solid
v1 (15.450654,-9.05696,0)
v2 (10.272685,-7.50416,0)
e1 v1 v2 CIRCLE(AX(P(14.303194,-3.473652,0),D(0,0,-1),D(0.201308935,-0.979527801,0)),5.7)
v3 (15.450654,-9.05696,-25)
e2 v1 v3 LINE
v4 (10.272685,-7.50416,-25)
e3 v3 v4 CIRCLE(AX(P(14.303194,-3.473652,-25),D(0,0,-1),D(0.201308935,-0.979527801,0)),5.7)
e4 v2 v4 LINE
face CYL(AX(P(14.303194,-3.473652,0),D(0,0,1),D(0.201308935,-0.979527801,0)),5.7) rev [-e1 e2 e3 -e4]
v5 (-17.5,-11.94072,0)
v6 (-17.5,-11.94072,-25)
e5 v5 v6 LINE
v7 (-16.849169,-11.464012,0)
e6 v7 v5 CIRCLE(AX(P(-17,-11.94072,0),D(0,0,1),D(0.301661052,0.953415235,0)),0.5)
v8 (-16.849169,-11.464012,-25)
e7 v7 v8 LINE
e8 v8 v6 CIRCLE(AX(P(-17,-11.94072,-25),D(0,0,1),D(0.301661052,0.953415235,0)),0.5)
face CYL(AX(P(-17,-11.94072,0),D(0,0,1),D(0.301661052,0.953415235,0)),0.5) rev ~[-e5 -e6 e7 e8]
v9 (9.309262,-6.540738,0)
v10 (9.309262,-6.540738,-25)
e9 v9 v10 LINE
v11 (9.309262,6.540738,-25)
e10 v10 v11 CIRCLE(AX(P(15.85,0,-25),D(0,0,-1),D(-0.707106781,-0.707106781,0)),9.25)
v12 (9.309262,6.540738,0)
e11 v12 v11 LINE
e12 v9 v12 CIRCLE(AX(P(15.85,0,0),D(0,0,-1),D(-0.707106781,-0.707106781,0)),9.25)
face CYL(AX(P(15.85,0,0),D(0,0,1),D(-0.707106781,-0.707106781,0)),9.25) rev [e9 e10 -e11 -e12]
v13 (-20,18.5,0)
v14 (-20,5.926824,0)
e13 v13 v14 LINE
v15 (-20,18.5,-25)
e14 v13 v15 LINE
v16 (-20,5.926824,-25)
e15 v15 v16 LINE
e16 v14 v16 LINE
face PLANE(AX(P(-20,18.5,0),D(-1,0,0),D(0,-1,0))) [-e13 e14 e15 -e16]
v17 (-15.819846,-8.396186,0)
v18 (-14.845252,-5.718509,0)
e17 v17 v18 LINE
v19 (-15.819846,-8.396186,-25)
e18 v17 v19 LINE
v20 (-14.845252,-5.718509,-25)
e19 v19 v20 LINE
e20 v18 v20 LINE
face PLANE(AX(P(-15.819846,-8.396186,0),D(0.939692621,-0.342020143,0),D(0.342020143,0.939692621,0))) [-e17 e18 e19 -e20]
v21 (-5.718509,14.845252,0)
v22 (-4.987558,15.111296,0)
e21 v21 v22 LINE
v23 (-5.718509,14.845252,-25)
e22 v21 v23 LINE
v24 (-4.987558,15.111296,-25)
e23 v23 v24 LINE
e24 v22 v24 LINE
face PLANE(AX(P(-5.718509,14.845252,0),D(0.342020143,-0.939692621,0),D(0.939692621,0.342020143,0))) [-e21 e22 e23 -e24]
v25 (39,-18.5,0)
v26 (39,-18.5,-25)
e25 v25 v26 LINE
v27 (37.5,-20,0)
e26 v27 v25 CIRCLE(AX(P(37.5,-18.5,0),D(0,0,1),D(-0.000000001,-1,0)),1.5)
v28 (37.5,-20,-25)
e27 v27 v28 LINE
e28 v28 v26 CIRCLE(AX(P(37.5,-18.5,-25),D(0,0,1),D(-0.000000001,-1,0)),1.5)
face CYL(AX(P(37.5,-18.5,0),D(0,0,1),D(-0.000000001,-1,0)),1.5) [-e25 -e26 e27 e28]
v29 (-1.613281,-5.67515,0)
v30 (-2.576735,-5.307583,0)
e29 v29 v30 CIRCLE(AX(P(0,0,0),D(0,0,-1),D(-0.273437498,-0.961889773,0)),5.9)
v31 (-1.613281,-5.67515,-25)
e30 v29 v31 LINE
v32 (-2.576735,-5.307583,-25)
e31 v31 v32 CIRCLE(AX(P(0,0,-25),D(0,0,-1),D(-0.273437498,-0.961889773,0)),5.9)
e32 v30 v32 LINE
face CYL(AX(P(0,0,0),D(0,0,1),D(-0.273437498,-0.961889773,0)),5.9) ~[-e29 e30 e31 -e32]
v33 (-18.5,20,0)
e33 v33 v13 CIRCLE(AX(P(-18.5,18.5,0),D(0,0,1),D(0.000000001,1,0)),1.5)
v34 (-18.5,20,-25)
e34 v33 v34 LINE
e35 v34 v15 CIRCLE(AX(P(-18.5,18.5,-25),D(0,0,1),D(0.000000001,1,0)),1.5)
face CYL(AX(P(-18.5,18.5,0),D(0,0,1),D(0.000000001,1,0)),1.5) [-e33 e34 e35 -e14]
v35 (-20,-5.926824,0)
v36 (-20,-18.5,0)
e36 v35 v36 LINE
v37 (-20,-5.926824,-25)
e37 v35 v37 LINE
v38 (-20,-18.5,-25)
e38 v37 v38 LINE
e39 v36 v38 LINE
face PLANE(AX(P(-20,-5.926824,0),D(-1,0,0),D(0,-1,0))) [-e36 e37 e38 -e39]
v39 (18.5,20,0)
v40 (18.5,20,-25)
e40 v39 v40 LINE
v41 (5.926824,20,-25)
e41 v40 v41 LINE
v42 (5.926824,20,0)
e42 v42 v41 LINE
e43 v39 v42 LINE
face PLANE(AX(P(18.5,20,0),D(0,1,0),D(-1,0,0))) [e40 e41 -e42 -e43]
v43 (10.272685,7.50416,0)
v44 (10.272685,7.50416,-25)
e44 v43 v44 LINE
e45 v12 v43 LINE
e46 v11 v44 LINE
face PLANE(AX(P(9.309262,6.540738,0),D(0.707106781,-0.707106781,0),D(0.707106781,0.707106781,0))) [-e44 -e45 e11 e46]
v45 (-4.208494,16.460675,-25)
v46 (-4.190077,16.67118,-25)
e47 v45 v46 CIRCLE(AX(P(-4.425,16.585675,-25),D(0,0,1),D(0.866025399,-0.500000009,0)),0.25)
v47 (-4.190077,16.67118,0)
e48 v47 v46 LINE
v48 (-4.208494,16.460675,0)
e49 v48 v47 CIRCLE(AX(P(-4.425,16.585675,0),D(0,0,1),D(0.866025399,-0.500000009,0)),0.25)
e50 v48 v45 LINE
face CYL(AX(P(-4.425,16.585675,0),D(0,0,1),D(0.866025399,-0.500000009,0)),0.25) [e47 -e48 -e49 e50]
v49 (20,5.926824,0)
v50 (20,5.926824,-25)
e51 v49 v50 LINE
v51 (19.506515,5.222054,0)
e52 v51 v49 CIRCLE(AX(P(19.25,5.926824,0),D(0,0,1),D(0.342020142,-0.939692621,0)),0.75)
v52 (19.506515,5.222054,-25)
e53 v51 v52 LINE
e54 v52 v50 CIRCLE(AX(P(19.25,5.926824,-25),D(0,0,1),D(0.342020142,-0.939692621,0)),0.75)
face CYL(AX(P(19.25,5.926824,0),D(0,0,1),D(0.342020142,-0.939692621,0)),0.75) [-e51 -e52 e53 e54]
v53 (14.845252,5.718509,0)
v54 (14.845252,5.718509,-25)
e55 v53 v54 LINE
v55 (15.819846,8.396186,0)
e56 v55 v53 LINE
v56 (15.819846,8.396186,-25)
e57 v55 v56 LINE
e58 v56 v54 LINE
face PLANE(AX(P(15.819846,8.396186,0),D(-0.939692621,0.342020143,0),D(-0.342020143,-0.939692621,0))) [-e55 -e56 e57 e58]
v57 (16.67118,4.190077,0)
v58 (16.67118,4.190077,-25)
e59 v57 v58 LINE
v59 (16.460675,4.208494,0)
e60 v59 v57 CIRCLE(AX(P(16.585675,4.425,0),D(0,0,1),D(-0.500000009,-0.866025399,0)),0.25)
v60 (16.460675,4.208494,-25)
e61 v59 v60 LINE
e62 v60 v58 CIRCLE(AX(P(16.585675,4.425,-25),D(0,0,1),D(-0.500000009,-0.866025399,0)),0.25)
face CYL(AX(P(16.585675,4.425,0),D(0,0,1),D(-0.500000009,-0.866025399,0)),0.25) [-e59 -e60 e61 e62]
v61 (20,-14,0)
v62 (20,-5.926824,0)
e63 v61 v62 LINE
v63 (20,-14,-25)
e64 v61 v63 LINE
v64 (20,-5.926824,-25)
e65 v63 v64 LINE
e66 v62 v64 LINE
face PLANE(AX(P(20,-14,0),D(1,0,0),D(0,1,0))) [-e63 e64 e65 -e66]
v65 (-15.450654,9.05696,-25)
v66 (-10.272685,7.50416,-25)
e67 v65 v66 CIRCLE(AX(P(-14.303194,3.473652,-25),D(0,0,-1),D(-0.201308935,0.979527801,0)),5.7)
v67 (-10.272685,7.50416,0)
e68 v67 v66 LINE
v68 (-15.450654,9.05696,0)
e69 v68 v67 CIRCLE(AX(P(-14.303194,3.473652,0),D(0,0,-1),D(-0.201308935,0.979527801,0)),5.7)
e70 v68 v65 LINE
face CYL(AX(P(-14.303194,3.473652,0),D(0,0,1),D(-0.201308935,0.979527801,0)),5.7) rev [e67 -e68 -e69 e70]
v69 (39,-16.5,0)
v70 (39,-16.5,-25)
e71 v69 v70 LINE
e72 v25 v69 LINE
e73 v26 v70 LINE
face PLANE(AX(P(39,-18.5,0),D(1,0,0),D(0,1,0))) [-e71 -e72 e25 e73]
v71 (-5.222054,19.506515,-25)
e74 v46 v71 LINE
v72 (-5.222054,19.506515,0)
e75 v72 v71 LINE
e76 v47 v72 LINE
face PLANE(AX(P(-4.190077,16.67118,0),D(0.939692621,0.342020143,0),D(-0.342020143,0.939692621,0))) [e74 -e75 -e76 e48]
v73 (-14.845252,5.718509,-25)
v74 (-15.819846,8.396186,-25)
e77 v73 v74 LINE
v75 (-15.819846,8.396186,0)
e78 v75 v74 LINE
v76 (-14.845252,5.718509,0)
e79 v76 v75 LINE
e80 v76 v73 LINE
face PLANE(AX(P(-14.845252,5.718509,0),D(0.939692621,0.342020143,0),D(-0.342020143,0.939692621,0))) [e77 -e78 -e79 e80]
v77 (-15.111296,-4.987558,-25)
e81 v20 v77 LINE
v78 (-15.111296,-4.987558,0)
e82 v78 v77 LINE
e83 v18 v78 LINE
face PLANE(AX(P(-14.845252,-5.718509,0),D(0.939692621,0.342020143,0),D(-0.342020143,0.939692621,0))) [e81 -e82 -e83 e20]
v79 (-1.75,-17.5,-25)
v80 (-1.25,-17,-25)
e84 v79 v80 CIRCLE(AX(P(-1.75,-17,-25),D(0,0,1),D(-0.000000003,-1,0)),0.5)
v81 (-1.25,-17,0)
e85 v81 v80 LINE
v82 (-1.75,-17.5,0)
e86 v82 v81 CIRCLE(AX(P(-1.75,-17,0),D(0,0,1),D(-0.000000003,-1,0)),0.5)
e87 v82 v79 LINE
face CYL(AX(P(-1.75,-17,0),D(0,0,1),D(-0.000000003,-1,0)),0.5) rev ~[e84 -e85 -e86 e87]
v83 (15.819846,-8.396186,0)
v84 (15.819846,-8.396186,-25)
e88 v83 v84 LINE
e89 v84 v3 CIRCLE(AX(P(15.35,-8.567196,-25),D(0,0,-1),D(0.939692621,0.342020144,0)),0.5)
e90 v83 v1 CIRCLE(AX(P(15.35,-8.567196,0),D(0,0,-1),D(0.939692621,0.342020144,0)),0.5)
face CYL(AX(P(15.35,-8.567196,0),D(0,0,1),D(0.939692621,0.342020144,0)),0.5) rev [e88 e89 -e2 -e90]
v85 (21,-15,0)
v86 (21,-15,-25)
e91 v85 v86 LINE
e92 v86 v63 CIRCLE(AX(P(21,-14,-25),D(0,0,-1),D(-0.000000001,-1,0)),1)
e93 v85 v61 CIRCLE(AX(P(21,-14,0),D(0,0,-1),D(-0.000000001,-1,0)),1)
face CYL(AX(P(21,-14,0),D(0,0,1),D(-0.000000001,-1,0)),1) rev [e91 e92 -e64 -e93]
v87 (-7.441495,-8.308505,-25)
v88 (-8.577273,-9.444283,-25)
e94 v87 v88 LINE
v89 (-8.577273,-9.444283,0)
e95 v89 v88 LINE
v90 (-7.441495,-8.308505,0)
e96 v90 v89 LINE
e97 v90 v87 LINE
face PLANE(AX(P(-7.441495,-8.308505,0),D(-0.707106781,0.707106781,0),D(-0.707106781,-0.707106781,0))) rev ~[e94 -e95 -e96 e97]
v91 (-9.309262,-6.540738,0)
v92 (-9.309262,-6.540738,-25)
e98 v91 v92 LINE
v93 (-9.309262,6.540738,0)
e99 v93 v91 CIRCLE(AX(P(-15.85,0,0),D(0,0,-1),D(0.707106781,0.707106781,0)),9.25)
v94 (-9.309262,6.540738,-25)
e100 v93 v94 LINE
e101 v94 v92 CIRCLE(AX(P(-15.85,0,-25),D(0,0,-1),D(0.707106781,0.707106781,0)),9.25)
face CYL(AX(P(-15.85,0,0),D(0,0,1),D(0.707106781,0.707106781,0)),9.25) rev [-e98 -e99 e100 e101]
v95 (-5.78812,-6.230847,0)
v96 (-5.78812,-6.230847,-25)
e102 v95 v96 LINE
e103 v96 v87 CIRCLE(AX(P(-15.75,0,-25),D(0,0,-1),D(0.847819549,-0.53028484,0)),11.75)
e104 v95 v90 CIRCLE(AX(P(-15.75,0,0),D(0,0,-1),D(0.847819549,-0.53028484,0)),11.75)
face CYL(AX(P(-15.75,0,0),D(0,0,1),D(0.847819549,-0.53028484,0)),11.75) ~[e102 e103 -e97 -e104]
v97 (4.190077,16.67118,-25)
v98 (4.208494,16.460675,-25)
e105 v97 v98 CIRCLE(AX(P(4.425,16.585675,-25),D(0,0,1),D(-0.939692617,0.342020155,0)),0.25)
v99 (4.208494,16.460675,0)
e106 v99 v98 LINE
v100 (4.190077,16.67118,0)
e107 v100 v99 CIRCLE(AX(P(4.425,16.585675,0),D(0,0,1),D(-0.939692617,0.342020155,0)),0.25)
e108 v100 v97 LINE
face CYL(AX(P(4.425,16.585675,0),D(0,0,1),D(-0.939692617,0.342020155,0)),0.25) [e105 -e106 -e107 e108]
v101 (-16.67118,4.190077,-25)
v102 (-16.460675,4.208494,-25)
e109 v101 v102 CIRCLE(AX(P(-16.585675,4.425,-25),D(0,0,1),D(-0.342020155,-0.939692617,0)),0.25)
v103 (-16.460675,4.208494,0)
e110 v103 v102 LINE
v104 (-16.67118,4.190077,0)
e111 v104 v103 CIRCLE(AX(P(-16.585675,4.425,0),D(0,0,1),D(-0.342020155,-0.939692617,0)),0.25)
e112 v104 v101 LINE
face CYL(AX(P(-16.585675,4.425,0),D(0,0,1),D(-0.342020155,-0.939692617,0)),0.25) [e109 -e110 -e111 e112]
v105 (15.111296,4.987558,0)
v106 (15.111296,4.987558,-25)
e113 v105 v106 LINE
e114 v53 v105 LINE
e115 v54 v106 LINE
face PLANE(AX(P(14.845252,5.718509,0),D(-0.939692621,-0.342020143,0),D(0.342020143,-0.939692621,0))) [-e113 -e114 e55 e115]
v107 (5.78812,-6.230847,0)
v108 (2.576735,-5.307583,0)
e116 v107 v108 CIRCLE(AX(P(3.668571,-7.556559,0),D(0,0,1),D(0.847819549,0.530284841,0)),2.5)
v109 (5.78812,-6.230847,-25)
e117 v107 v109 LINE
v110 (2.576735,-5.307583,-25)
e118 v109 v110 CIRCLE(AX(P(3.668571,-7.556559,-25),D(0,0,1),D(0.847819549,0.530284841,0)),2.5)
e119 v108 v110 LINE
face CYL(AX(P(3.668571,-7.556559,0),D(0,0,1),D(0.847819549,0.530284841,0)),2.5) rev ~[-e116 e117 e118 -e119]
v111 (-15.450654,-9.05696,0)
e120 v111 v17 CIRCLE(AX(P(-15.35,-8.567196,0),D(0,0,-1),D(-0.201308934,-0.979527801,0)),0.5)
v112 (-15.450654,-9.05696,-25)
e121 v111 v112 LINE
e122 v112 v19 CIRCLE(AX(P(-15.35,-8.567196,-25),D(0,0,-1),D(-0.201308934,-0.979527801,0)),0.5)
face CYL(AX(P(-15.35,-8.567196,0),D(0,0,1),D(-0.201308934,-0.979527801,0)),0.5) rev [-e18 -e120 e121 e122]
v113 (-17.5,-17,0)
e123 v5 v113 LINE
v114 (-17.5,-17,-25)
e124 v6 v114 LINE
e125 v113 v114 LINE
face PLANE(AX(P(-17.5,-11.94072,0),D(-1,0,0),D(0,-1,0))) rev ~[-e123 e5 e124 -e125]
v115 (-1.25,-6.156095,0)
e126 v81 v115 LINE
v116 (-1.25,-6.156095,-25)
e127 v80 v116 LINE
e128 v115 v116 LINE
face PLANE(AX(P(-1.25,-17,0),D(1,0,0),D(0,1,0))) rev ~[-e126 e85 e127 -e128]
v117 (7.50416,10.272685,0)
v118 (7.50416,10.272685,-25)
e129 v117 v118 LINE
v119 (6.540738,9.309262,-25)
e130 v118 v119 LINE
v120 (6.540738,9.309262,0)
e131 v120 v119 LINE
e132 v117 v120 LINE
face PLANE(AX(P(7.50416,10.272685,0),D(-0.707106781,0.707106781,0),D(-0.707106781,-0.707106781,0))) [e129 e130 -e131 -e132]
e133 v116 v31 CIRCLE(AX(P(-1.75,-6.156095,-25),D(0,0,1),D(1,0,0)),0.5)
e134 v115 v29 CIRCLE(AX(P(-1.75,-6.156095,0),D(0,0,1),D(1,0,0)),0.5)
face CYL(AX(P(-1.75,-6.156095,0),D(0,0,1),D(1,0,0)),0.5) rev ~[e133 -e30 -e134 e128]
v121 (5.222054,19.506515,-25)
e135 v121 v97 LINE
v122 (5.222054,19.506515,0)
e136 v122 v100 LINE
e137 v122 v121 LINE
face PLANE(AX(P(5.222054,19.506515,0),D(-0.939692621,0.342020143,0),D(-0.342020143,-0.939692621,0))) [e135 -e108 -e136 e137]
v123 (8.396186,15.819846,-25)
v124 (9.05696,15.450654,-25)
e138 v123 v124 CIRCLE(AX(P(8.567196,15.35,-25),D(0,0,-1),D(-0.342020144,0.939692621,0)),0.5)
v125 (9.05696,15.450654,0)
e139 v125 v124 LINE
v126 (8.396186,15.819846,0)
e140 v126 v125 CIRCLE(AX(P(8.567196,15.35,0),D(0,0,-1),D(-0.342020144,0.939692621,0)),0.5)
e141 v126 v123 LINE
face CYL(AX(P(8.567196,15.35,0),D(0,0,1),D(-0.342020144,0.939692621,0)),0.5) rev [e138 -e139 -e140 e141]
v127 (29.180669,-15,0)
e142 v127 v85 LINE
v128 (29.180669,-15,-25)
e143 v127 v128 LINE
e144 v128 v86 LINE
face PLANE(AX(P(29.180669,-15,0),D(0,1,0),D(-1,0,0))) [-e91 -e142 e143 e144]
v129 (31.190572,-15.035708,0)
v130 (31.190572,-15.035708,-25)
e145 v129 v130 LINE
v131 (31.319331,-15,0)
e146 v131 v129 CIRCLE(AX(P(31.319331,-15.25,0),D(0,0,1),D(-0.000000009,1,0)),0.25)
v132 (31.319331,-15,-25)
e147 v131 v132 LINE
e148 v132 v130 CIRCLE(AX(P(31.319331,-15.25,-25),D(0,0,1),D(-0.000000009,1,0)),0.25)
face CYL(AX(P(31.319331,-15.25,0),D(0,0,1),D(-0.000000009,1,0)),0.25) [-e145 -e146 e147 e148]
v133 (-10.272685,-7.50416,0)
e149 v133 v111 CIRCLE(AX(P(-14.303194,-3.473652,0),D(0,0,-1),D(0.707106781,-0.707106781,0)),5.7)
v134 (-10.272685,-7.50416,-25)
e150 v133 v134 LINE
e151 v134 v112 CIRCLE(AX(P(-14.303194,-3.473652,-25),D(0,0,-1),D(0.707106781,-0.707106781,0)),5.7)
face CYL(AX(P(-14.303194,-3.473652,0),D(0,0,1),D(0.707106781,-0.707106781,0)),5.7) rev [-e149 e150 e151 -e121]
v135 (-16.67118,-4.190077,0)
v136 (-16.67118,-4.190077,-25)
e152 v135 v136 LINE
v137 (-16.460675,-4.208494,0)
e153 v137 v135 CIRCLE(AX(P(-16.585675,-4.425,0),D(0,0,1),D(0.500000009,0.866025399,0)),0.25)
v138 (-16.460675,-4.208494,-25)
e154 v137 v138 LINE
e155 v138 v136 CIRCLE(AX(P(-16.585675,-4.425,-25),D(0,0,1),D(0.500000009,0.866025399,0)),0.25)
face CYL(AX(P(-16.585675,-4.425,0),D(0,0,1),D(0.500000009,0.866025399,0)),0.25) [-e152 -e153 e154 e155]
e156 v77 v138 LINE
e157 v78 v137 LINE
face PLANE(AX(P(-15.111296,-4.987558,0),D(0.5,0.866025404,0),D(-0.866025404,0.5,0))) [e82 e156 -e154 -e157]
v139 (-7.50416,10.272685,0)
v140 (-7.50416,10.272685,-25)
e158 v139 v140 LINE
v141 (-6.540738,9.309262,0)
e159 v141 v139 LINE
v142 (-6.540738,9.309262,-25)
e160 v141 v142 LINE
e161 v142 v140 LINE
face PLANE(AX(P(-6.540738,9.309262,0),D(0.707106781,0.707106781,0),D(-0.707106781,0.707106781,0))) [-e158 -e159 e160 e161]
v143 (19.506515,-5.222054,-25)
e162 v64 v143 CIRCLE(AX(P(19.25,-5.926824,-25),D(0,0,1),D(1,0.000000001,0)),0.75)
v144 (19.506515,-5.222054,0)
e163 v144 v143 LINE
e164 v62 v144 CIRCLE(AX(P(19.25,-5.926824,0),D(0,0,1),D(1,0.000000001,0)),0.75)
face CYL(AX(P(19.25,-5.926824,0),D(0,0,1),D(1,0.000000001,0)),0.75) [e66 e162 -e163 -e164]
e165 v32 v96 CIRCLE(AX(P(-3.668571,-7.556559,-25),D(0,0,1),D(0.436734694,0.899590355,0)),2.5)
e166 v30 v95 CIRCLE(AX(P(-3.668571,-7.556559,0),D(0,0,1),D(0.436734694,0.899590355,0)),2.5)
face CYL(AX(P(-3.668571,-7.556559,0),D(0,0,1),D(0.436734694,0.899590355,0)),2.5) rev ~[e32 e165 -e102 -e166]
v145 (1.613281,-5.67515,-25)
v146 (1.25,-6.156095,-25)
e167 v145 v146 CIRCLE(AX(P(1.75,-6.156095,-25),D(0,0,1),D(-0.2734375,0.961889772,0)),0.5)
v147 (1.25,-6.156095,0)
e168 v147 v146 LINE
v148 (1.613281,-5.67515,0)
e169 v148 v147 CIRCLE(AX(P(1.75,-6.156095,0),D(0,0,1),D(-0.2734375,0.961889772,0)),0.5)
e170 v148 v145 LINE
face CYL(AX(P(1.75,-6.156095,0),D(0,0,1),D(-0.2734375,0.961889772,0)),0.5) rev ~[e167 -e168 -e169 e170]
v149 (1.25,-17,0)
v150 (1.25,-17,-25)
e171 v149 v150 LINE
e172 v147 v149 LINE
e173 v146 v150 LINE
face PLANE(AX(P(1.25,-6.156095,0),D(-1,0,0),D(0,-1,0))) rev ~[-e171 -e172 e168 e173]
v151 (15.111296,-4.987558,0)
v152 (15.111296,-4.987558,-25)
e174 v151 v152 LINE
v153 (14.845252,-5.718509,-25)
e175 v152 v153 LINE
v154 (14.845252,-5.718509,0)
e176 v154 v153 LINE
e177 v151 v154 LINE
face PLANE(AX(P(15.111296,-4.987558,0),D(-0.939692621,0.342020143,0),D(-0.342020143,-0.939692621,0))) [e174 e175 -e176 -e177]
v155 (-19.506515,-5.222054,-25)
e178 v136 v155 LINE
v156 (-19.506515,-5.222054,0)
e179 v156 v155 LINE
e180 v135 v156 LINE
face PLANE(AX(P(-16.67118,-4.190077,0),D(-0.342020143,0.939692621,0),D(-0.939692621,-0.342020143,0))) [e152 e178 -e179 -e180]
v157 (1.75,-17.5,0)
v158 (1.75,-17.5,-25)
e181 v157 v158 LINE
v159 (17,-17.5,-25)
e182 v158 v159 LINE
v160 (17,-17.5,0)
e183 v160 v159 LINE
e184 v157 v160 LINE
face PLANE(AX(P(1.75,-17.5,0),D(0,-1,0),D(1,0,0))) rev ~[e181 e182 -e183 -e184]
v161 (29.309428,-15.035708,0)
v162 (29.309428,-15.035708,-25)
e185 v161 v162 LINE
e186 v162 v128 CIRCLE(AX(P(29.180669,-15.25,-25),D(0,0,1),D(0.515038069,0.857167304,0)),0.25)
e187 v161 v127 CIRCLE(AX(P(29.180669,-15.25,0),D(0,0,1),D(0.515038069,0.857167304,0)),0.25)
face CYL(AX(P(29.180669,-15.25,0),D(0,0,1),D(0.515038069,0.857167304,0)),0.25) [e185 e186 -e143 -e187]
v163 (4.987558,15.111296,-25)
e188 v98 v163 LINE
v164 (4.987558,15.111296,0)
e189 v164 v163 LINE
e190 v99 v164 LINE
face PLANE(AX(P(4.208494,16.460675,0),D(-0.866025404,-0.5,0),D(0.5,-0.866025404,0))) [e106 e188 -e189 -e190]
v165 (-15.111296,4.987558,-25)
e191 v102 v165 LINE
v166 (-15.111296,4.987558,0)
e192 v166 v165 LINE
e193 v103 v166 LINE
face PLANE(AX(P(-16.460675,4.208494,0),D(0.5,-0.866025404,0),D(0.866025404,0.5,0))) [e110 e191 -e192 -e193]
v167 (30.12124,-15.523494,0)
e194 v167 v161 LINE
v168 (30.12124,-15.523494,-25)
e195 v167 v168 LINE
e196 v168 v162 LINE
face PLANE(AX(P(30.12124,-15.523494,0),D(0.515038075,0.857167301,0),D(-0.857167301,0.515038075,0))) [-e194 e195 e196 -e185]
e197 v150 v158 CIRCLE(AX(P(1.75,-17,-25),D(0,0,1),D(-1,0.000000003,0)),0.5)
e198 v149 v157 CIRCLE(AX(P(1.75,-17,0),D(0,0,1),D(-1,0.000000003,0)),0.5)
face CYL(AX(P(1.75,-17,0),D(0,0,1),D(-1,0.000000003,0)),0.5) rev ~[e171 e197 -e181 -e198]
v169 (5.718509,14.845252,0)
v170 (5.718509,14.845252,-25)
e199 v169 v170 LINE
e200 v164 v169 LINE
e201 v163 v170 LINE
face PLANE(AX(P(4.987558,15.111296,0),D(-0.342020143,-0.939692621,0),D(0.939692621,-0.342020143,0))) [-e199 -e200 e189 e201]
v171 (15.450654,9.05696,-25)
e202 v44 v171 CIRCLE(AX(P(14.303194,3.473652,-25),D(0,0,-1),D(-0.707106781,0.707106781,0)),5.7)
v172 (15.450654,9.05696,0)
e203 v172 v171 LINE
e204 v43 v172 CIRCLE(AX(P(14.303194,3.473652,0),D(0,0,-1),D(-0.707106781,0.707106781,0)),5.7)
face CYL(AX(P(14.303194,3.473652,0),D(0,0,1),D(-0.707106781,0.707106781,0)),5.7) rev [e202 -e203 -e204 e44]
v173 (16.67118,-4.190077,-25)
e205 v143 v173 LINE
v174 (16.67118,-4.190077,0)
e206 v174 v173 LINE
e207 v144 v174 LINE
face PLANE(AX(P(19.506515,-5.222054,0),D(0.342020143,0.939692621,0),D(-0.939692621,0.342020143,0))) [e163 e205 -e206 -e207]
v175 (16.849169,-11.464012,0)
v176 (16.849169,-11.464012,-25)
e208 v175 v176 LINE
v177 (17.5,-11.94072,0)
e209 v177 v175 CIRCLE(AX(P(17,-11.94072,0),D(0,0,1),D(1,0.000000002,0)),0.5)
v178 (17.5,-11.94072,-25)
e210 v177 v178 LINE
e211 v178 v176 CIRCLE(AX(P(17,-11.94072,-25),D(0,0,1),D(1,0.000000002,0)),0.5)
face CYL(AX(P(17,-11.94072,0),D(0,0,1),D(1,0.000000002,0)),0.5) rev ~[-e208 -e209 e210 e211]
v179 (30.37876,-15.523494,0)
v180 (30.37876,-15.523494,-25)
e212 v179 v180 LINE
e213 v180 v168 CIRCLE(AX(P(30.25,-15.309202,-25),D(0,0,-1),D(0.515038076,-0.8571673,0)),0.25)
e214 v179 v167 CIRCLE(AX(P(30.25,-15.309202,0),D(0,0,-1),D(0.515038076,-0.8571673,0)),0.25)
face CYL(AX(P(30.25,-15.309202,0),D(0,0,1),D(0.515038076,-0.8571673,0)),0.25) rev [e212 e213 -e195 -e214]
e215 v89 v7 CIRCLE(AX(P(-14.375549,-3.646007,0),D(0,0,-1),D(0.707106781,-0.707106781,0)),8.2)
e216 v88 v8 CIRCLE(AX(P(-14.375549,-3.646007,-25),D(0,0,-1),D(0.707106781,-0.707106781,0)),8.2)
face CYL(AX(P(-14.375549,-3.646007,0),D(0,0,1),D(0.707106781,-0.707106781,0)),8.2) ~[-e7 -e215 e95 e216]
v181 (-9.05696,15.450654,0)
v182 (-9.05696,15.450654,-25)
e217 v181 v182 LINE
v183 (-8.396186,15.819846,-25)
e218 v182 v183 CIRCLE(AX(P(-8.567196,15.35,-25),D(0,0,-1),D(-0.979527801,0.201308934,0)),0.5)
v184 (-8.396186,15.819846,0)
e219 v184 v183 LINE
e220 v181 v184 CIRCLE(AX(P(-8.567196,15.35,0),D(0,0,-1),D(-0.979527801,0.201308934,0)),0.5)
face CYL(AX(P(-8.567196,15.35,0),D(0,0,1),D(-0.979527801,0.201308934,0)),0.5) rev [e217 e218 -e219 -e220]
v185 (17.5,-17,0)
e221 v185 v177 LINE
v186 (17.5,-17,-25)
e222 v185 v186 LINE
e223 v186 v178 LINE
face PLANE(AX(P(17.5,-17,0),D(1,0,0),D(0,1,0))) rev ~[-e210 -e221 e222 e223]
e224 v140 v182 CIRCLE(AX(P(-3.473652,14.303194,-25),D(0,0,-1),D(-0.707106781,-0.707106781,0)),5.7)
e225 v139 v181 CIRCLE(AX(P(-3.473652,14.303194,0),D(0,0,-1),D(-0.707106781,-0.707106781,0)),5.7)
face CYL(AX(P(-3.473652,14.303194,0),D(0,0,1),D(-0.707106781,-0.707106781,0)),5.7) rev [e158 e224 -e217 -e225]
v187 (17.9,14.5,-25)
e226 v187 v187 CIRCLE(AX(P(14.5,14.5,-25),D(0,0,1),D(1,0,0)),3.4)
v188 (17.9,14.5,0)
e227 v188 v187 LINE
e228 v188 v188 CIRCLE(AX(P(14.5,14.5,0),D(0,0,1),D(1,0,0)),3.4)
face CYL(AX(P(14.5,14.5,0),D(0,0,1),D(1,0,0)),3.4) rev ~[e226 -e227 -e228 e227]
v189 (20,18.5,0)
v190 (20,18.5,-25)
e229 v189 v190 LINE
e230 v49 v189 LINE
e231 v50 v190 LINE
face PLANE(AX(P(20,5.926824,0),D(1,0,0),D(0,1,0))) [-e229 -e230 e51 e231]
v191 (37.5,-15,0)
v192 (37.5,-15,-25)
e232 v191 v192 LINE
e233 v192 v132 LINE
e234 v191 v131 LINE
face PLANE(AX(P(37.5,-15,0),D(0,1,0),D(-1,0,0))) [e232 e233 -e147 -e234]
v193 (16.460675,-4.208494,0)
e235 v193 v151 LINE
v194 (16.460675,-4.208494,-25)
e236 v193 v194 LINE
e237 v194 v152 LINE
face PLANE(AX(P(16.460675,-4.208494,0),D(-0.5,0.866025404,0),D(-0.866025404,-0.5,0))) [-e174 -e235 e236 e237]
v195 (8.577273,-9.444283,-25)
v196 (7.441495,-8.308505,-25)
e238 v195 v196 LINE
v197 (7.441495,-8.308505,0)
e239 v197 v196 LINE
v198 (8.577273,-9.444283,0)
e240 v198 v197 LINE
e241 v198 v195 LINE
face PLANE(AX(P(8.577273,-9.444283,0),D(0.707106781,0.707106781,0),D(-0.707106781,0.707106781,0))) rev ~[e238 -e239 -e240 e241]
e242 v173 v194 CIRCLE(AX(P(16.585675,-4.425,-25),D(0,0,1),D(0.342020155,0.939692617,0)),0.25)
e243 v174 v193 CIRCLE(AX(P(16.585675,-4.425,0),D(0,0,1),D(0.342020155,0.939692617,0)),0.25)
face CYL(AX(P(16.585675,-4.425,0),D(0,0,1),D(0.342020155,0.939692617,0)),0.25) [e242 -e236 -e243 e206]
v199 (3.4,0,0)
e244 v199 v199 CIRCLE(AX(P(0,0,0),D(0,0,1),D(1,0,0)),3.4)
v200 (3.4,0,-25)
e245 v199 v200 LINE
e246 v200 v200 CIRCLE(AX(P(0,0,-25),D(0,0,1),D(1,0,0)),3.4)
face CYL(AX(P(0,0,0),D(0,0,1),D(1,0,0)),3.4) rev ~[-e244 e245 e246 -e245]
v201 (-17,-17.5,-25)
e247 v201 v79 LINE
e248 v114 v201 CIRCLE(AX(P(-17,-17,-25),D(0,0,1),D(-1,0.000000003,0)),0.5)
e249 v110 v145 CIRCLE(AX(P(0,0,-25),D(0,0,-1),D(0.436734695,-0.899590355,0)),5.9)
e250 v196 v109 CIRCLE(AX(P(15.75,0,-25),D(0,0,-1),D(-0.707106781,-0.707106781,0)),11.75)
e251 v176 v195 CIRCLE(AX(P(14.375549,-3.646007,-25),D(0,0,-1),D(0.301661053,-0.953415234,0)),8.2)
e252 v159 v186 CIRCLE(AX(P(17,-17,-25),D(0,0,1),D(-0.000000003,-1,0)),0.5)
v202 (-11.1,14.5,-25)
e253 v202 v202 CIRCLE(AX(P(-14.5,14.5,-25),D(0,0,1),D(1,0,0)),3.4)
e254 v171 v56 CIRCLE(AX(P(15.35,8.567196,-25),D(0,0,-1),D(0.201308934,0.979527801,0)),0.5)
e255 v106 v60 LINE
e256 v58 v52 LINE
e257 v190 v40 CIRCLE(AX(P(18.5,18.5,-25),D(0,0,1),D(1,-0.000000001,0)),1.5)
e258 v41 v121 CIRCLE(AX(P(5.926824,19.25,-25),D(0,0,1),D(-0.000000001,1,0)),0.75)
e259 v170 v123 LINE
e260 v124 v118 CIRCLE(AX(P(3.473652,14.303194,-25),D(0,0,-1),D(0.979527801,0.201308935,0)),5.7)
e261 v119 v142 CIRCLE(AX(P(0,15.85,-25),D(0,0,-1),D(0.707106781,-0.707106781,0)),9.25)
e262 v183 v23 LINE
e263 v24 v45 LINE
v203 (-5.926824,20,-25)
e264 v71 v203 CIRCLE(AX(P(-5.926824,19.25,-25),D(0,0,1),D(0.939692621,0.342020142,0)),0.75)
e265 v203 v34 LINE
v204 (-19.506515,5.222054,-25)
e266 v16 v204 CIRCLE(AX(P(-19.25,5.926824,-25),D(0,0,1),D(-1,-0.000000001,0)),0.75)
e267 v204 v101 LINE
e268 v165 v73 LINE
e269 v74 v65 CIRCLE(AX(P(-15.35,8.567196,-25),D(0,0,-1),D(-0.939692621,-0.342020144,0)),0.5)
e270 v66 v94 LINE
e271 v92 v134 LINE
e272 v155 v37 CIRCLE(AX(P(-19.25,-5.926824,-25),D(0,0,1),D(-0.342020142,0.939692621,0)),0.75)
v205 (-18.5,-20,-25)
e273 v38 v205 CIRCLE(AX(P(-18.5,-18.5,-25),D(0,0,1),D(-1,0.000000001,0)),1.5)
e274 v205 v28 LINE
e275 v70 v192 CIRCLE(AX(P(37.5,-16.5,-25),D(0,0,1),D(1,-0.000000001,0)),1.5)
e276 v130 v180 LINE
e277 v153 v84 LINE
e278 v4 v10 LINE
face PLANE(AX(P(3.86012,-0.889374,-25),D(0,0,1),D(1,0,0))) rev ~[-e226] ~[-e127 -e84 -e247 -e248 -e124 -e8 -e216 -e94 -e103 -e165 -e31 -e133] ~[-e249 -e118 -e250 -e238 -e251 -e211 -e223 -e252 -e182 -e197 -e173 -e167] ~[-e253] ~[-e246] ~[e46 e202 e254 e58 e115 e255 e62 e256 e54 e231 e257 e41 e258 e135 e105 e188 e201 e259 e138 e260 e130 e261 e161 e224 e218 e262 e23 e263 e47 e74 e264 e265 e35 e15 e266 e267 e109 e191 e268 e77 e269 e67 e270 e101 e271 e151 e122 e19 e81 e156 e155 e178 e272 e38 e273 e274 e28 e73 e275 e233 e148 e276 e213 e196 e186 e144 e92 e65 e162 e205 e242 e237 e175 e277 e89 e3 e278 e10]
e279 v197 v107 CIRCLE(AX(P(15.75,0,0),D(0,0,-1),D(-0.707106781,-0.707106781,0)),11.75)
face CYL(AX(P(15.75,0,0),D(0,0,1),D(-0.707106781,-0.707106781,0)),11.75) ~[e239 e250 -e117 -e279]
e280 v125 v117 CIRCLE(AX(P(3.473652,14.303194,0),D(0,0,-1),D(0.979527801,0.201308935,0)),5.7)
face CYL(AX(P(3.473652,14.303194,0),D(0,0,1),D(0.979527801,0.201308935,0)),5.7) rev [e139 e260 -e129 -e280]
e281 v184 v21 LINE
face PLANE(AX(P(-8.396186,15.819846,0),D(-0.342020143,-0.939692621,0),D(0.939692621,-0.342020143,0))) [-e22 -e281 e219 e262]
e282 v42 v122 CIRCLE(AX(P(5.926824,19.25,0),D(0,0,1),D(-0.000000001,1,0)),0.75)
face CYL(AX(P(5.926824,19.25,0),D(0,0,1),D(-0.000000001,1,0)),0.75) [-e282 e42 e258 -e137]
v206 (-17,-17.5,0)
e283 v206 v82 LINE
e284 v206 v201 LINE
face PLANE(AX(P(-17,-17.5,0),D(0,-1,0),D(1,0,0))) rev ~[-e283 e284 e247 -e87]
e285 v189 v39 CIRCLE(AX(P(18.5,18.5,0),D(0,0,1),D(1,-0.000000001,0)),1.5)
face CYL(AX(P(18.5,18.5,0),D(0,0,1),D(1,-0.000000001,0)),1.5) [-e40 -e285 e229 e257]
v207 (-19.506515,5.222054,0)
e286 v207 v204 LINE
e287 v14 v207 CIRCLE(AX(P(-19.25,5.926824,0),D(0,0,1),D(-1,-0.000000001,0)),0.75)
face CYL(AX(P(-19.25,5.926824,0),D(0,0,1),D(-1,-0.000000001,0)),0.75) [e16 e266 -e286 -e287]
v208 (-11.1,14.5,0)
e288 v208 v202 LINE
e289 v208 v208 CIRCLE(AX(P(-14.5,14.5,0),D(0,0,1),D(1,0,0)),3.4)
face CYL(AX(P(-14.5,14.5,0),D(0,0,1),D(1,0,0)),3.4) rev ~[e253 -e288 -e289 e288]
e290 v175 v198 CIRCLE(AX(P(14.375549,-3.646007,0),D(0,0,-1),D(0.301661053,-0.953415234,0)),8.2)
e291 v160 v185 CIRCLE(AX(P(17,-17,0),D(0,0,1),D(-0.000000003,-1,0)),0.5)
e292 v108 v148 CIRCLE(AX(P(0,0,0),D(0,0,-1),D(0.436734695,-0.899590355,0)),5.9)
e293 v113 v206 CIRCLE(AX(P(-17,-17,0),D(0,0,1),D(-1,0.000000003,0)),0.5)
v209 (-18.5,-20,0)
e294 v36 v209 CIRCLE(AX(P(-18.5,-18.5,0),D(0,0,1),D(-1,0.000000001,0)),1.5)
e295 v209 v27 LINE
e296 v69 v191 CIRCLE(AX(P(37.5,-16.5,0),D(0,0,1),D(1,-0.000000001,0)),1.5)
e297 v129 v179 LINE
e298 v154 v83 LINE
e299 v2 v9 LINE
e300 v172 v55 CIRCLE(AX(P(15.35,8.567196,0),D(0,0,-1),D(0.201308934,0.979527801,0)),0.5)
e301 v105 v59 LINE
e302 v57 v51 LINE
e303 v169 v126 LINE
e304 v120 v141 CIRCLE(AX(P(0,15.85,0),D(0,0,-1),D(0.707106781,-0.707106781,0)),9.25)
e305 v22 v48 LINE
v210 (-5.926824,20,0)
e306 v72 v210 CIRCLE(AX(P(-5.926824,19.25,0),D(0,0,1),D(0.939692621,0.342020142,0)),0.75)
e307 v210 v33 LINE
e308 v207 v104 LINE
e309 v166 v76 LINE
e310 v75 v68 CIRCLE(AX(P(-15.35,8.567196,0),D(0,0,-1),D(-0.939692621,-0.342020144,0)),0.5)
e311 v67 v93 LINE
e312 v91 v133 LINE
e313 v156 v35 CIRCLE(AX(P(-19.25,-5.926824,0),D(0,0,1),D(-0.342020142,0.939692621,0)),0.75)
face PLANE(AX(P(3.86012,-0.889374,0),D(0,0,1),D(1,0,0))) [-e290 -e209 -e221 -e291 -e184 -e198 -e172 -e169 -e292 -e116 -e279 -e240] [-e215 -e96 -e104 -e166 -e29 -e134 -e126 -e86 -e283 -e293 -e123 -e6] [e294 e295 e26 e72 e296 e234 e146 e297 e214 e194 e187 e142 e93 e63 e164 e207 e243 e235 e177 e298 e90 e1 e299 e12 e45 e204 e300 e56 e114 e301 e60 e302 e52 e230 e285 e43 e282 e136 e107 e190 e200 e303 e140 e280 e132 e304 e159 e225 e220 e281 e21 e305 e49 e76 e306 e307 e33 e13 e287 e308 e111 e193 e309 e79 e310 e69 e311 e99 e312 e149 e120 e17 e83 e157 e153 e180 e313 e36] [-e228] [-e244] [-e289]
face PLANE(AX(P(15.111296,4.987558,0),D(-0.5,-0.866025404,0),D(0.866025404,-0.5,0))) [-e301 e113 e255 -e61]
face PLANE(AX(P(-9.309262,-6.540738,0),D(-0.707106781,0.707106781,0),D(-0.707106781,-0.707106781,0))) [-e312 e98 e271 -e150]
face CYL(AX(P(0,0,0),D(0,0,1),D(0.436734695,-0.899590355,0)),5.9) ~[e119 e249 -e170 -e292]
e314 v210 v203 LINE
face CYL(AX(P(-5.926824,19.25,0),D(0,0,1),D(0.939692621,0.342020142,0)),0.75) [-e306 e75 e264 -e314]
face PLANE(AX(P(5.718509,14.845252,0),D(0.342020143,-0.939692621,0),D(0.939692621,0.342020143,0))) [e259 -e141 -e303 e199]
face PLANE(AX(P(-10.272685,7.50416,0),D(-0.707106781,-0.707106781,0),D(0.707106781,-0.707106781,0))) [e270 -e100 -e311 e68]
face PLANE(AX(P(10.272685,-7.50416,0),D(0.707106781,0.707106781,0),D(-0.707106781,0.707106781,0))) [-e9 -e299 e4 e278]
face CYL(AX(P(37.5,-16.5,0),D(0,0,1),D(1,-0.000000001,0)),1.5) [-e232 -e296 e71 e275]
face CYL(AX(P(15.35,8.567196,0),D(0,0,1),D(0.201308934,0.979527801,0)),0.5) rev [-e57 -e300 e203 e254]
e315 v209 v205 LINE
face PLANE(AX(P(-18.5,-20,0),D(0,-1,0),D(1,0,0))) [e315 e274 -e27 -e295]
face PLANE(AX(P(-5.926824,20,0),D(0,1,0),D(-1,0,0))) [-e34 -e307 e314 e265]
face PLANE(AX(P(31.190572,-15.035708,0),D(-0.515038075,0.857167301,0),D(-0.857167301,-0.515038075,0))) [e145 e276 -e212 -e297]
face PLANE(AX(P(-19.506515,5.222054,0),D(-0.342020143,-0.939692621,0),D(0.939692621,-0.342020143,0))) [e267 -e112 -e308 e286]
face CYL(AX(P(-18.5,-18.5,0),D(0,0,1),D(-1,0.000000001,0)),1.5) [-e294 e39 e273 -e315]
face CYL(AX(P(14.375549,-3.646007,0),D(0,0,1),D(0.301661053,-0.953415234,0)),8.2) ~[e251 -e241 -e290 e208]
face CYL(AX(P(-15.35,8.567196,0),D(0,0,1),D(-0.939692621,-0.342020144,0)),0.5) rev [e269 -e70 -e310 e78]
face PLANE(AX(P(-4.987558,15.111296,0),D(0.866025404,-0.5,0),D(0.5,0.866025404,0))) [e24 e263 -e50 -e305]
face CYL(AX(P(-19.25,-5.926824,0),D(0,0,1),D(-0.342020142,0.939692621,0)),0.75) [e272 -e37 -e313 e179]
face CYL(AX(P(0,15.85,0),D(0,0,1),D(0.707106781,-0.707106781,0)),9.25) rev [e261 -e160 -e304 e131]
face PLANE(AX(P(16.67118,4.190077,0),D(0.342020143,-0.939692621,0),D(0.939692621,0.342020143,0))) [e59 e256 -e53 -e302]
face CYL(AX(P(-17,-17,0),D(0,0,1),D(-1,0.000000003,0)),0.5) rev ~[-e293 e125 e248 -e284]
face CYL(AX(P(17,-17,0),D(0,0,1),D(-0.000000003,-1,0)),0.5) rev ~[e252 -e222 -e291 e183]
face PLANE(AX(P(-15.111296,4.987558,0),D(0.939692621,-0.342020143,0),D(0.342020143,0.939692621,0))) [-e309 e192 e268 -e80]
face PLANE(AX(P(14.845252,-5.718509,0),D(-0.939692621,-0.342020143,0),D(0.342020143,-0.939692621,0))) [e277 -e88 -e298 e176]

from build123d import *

# Parameters (mm, degrees)
SK_MAIN_EXTRUSION_R  = 3.4
MAIN_EXTRUSION_DEPTH = 25


with BuildPart() as part:
    # Sk Main Extrusion → Main Extrusion (new body)
    with BuildSketch(Plane.XY):
        with BuildLine():
            Line((-16.671180212, -4.190076845), (-19.506515107, -5.222054351))
            ThreePointArc((-19.506515107, -5.222054351), (-19.864364033, -5.496641489), (-20, -5.926823816))
            Line((-20, -5.926823816), (-20, -18.5))
            ThreePointArc((-20, -18.5), (-19.560660172, -19.560660172), (-18.5, -20))
            Line((-18.5, -20), (37.5, -20))
            ThreePointArc((37.5, -20), (38.560660172, -19.560660172), (39, -18.5))
            Line((39, -18.5), (39, -16.5))
            ThreePointArc((39, -16.5), (38.560660172, -15.439339828), (37.5, -15))
            Line((37.5, -15), (31.319331136, -15))
            ThreePointArc((31.319331136, -15), (31.252521542, -15.009092387), (31.190571617, -15.035708175))
            Line((31.190571617, -15.035708175), (30.378759519, -15.523494095))
            ThreePointArc((30.378759519, -15.523494095), (30.25, -15.55920227), (30.121240481, -15.523494095))
            Line((30.121240481, -15.523494095), (29.309428383, -15.035708175))
            ThreePointArc((29.309428383, -15.035708175), (29.247478458, -15.009092387), (29.180668864, -15))
            Line((29.180668864, -15), (21, -15))
            ThreePointArc((21, -15), (20.292893219, -14.707106781), (20, -14))
            Line((20, -14), (20, -5.926823816))
            ThreePointArc((20, -5.926823816), (19.864364033, -5.496641489), (19.506515107, -5.222054351))
            Line((19.506515107, -5.222054351), (16.671180212, -4.190076845))
            ThreePointArc((16.671180212, -4.190076845), (16.563886241, -4.175951325), (16.460675177, -4.208493649))
            Line((16.460675177, -4.208493649), (15.111296024, -4.987558066))
            Line((15.111296024, -4.987558066), (14.845251581, -5.718509166))
            Line((14.845251581, -5.718509166), (15.81984631, -8.396186179))
            ThreePointArc((15.81984631, -8.396186179), (15.786489799, -8.811074612), (15.450654467, -9.056960151))
            ThreePointArc((15.450654467, -9.056960151), (12.665882372, -8.933433013), (10.272684887, -7.504160339))
            Line((10.272684887, -7.504160339), (9.309262274, -6.540737726))
            ThreePointArc((9.309262274, -6.540737726), (6.6, 0), (9.309262274, 6.540737726))
            Line((9.309262274, 6.540737726), (10.272684887, 7.504160339))
            ThreePointArc((10.272684887, 7.504160339), (12.665882372, 8.933433013), (15.450654467, 9.056960151))
            ThreePointArc((15.450654467, 9.056960151), (15.786489799, 8.811074612), (15.81984631, 8.396186179))
            Line((15.81984631, 8.396186179), (14.845251581, 5.718509166))
            Line((14.845251581, 5.718509166), (15.111296024, 4.987558066))
            Line((15.111296024, 4.987558066), (16.460675177, 4.208493649))
            ThreePointArc((16.460675177, 4.208493649), (16.563886241, 4.175951325), (16.671180212, 4.190076845))
            Line((16.671180212, 4.190076845), (19.506515107, 5.222054351))
            ThreePointArc((19.506515107, 5.222054351), (19.864364033, 5.496641489), (20, 5.926823816))
            Line((20, 5.926823816), (20, 18.5))
            ThreePointArc((20, 18.5), (19.560660172, 19.560660172), (18.5, 20))
            Line((18.5, 20), (5.926823816, 20))
            ThreePointArc((5.926823816, 20), (5.496641489, 19.864364033), (5.222054351, 19.506515107))
            Line((5.222054351, 19.506515107), (4.190076845, 16.671180212))
            ThreePointArc((4.190076845, 16.671180212), (4.175951325, 16.563886241), (4.208493649, 16.460675177))
            Line((4.208493649, 16.460675177), (4.987558066, 15.111296024))
            Line((4.987558066, 15.111296024), (5.718509166, 14.845251581))
            Line((5.718509166, 14.845251581), (8.396186179, 15.81984631))
            ThreePointArc((8.396186179, 15.81984631), (8.811074612, 15.786489799), (9.056960151, 15.450654467))
            ThreePointArc((9.056960151, 15.450654467), (8.933433013, 12.665882372), (7.504160339, 10.272684887))
            Line((7.504160339, 10.272684887), (6.540737726, 9.309262274))
            ThreePointArc((6.540737726, 9.309262274), (0, 6.6), (-6.540737726, 9.309262274))
            Line((-6.540737726, 9.309262274), (-7.504160339, 10.272684887))
            ThreePointArc((-7.504160339, 10.272684887), (-8.933433013, 12.665882372), (-9.056960151, 15.450654467))
            ThreePointArc((-9.056960151, 15.450654467), (-8.811074612, 15.786489799), (-8.396186179, 15.81984631))
            Line((-8.396186179, 15.81984631), (-5.718509166, 14.845251581))
            Line((-5.718509166, 14.845251581), (-4.987558066, 15.111296024))
            Line((-4.987558066, 15.111296024), (-4.208493649, 16.460675177))
            ThreePointArc((-4.208493649, 16.460675177), (-4.175951325, 16.563886241), (-4.190076845, 16.671180212))
            Line((-4.190076845, 16.671180212), (-5.222054351, 19.506515107))
            ThreePointArc((-5.222054351, 19.506515107), (-5.496641489, 19.864364033), (-5.926823816, 20))
            Line((-5.926823816, 20), (-18.5, 20))
            ThreePointArc((-18.5, 20), (-19.560660172, 19.560660172), (-20, 18.5))
            Line((-20, 18.5), (-20, 5.926823816))
            ThreePointArc((-20, 5.926823816), (-19.864364033, 5.496641489), (-19.506515107, 5.222054351))
            Line((-19.506515107, 5.222054351), (-16.671180212, 4.190076845))
            ThreePointArc((-16.671180212, 4.190076845), (-16.563886241, 4.175951325), (-16.460675177, 4.208493649))
            Line((-16.460675177, 4.208493649), (-15.111296024, 4.987558066))
            Line((-15.111296024, 4.987558066), (-14.845251581, 5.718509166))
            Line((-14.845251581, 5.718509166), (-15.81984631, 8.396186179))
            ThreePointArc((-15.81984631, 8.396186179), (-15.786489799, 8.811074612), (-15.450654467, 9.056960151))
            ThreePointArc((-15.450654467, 9.056960151), (-12.665882372, 8.933433013), (-10.272684887, 7.504160339))
            Line((-10.272684887, 7.504160339), (-9.309262274, 6.540737726))
            ThreePointArc((-9.309262274, 6.540737726), (-6.6, 0), (-9.309262274, -6.540737726))
            Line((-9.309262274, -6.540737726), (-10.272684887, -7.504160339))
            ThreePointArc((-10.272684887, -7.504160339), (-12.665882372, -8.933433013), (-15.450654467, -9.056960151))
            ThreePointArc((-15.450654467, -9.056960151), (-15.786489799, -8.811074612), (-15.81984631, -8.396186179))
            Line((-15.81984631, -8.396186179), (-14.845251581, -5.718509166))
            Line((-14.845251581, -5.718509166), (-15.111296024, -4.987558066))
            Line((-15.111296024, -4.987558066), (-16.460675177, -4.208493649))
            ThreePointArc((-16.460675177, -4.208493649), (-16.563886241, -4.175951325), (-16.671180212, -4.190076845))
        make_face()
        with Locations((14.5, 14.5)):
            Circle(SK_MAIN_EXTRUSION_R, mode=Mode.SUBTRACT)
        Circle(SK_MAIN_EXTRUSION_R, mode=Mode.SUBTRACT)
        with Locations((-14.5, 14.5)):
            Circle(SK_MAIN_EXTRUSION_R, mode=Mode.SUBTRACT)
        with BuildLine():
            Line((-7.441495321, -8.308504679), (-8.577273231, -9.444282589))
            ThreePointArc((-8.577273231, -9.444282589), (-12.430514315, -11.611987193), (-16.849169473, -11.464011904))
            ThreePointArc((-16.849169473, -11.464011904), (-17.295452819, -11.537349181), (-17.5, -11.940719521))
            Line((-17.5, -11.940719521), (-17.5, -17))
            ThreePointArc((-17.5, -17), (-17.353553391, -17.353553391), (-17, -17.5))
            Line((-17, -17.5), (-1.75, -17.5))
            ThreePointArc((-1.75, -17.5), (-1.396446609, -17.353553391), (-1.25, -17))
            Line((-1.25, -17), (-1.25, -6.156094541))
            ThreePointArc((-1.25, -6.156094541), (-1.351026708, -5.854730455), (-1.61328125, -5.675149655))
            ThreePointArc((-1.61328125, -5.675149655), (-2.10305366, -5.51245547), (-2.576734694, -5.307583096))
            ThreePointArc((-2.576734694, -5.307583096), (-4.359333373, -5.153883821), (-5.788120301, -6.230846881))
            ThreePointArc((-5.788120301, -6.230846881), (-6.555931161, -7.316529108), (-7.441495321, -8.308504679))
        make_face(mode=Mode.SUBTRACT)
        with BuildLine():
            Line((1.25, -6.156094541), (1.25, -17))
            ThreePointArc((1.25, -17), (1.396446609, -17.353553391), (1.75, -17.5))
            Line((1.75, -17.5), (17, -17.5))
            ThreePointArc((17, -17.5), (17.353553391, -17.353553391), (17.5, -17))
            Line((17.5, -17), (17.5, -11.940719521))
            ThreePointArc((17.5, -11.940719521), (17.295452819, -11.537349181), (16.849169473, -11.464011904))
            ThreePointArc((16.849169473, -11.464011904), (12.430514315, -11.611987193), (8.577273231, -9.444282589))
            Line((8.577273231, -9.444282589), (7.441495321, -8.308504679))
            ThreePointArc((7.441495321, -8.308504679), (6.555931161, -7.316529108), (5.788120301, -6.230846881))
            ThreePointArc((5.788120301, -6.230846881), (4.359333373, -5.153883821), (2.576734694, -5.307583096))
            ThreePointArc((2.576734694, -5.307583096), (2.10305366, -5.51245547), (1.61328125, -5.675149655))
            ThreePointArc((1.61328125, -5.675149655), (1.351026708, -5.854730455), (1.25, -6.156094541))
        make_face(mode=Mode.SUBTRACT)
    extrude(amount=-MAIN_EXTRUSION_DEPTH)


solid = part.part
